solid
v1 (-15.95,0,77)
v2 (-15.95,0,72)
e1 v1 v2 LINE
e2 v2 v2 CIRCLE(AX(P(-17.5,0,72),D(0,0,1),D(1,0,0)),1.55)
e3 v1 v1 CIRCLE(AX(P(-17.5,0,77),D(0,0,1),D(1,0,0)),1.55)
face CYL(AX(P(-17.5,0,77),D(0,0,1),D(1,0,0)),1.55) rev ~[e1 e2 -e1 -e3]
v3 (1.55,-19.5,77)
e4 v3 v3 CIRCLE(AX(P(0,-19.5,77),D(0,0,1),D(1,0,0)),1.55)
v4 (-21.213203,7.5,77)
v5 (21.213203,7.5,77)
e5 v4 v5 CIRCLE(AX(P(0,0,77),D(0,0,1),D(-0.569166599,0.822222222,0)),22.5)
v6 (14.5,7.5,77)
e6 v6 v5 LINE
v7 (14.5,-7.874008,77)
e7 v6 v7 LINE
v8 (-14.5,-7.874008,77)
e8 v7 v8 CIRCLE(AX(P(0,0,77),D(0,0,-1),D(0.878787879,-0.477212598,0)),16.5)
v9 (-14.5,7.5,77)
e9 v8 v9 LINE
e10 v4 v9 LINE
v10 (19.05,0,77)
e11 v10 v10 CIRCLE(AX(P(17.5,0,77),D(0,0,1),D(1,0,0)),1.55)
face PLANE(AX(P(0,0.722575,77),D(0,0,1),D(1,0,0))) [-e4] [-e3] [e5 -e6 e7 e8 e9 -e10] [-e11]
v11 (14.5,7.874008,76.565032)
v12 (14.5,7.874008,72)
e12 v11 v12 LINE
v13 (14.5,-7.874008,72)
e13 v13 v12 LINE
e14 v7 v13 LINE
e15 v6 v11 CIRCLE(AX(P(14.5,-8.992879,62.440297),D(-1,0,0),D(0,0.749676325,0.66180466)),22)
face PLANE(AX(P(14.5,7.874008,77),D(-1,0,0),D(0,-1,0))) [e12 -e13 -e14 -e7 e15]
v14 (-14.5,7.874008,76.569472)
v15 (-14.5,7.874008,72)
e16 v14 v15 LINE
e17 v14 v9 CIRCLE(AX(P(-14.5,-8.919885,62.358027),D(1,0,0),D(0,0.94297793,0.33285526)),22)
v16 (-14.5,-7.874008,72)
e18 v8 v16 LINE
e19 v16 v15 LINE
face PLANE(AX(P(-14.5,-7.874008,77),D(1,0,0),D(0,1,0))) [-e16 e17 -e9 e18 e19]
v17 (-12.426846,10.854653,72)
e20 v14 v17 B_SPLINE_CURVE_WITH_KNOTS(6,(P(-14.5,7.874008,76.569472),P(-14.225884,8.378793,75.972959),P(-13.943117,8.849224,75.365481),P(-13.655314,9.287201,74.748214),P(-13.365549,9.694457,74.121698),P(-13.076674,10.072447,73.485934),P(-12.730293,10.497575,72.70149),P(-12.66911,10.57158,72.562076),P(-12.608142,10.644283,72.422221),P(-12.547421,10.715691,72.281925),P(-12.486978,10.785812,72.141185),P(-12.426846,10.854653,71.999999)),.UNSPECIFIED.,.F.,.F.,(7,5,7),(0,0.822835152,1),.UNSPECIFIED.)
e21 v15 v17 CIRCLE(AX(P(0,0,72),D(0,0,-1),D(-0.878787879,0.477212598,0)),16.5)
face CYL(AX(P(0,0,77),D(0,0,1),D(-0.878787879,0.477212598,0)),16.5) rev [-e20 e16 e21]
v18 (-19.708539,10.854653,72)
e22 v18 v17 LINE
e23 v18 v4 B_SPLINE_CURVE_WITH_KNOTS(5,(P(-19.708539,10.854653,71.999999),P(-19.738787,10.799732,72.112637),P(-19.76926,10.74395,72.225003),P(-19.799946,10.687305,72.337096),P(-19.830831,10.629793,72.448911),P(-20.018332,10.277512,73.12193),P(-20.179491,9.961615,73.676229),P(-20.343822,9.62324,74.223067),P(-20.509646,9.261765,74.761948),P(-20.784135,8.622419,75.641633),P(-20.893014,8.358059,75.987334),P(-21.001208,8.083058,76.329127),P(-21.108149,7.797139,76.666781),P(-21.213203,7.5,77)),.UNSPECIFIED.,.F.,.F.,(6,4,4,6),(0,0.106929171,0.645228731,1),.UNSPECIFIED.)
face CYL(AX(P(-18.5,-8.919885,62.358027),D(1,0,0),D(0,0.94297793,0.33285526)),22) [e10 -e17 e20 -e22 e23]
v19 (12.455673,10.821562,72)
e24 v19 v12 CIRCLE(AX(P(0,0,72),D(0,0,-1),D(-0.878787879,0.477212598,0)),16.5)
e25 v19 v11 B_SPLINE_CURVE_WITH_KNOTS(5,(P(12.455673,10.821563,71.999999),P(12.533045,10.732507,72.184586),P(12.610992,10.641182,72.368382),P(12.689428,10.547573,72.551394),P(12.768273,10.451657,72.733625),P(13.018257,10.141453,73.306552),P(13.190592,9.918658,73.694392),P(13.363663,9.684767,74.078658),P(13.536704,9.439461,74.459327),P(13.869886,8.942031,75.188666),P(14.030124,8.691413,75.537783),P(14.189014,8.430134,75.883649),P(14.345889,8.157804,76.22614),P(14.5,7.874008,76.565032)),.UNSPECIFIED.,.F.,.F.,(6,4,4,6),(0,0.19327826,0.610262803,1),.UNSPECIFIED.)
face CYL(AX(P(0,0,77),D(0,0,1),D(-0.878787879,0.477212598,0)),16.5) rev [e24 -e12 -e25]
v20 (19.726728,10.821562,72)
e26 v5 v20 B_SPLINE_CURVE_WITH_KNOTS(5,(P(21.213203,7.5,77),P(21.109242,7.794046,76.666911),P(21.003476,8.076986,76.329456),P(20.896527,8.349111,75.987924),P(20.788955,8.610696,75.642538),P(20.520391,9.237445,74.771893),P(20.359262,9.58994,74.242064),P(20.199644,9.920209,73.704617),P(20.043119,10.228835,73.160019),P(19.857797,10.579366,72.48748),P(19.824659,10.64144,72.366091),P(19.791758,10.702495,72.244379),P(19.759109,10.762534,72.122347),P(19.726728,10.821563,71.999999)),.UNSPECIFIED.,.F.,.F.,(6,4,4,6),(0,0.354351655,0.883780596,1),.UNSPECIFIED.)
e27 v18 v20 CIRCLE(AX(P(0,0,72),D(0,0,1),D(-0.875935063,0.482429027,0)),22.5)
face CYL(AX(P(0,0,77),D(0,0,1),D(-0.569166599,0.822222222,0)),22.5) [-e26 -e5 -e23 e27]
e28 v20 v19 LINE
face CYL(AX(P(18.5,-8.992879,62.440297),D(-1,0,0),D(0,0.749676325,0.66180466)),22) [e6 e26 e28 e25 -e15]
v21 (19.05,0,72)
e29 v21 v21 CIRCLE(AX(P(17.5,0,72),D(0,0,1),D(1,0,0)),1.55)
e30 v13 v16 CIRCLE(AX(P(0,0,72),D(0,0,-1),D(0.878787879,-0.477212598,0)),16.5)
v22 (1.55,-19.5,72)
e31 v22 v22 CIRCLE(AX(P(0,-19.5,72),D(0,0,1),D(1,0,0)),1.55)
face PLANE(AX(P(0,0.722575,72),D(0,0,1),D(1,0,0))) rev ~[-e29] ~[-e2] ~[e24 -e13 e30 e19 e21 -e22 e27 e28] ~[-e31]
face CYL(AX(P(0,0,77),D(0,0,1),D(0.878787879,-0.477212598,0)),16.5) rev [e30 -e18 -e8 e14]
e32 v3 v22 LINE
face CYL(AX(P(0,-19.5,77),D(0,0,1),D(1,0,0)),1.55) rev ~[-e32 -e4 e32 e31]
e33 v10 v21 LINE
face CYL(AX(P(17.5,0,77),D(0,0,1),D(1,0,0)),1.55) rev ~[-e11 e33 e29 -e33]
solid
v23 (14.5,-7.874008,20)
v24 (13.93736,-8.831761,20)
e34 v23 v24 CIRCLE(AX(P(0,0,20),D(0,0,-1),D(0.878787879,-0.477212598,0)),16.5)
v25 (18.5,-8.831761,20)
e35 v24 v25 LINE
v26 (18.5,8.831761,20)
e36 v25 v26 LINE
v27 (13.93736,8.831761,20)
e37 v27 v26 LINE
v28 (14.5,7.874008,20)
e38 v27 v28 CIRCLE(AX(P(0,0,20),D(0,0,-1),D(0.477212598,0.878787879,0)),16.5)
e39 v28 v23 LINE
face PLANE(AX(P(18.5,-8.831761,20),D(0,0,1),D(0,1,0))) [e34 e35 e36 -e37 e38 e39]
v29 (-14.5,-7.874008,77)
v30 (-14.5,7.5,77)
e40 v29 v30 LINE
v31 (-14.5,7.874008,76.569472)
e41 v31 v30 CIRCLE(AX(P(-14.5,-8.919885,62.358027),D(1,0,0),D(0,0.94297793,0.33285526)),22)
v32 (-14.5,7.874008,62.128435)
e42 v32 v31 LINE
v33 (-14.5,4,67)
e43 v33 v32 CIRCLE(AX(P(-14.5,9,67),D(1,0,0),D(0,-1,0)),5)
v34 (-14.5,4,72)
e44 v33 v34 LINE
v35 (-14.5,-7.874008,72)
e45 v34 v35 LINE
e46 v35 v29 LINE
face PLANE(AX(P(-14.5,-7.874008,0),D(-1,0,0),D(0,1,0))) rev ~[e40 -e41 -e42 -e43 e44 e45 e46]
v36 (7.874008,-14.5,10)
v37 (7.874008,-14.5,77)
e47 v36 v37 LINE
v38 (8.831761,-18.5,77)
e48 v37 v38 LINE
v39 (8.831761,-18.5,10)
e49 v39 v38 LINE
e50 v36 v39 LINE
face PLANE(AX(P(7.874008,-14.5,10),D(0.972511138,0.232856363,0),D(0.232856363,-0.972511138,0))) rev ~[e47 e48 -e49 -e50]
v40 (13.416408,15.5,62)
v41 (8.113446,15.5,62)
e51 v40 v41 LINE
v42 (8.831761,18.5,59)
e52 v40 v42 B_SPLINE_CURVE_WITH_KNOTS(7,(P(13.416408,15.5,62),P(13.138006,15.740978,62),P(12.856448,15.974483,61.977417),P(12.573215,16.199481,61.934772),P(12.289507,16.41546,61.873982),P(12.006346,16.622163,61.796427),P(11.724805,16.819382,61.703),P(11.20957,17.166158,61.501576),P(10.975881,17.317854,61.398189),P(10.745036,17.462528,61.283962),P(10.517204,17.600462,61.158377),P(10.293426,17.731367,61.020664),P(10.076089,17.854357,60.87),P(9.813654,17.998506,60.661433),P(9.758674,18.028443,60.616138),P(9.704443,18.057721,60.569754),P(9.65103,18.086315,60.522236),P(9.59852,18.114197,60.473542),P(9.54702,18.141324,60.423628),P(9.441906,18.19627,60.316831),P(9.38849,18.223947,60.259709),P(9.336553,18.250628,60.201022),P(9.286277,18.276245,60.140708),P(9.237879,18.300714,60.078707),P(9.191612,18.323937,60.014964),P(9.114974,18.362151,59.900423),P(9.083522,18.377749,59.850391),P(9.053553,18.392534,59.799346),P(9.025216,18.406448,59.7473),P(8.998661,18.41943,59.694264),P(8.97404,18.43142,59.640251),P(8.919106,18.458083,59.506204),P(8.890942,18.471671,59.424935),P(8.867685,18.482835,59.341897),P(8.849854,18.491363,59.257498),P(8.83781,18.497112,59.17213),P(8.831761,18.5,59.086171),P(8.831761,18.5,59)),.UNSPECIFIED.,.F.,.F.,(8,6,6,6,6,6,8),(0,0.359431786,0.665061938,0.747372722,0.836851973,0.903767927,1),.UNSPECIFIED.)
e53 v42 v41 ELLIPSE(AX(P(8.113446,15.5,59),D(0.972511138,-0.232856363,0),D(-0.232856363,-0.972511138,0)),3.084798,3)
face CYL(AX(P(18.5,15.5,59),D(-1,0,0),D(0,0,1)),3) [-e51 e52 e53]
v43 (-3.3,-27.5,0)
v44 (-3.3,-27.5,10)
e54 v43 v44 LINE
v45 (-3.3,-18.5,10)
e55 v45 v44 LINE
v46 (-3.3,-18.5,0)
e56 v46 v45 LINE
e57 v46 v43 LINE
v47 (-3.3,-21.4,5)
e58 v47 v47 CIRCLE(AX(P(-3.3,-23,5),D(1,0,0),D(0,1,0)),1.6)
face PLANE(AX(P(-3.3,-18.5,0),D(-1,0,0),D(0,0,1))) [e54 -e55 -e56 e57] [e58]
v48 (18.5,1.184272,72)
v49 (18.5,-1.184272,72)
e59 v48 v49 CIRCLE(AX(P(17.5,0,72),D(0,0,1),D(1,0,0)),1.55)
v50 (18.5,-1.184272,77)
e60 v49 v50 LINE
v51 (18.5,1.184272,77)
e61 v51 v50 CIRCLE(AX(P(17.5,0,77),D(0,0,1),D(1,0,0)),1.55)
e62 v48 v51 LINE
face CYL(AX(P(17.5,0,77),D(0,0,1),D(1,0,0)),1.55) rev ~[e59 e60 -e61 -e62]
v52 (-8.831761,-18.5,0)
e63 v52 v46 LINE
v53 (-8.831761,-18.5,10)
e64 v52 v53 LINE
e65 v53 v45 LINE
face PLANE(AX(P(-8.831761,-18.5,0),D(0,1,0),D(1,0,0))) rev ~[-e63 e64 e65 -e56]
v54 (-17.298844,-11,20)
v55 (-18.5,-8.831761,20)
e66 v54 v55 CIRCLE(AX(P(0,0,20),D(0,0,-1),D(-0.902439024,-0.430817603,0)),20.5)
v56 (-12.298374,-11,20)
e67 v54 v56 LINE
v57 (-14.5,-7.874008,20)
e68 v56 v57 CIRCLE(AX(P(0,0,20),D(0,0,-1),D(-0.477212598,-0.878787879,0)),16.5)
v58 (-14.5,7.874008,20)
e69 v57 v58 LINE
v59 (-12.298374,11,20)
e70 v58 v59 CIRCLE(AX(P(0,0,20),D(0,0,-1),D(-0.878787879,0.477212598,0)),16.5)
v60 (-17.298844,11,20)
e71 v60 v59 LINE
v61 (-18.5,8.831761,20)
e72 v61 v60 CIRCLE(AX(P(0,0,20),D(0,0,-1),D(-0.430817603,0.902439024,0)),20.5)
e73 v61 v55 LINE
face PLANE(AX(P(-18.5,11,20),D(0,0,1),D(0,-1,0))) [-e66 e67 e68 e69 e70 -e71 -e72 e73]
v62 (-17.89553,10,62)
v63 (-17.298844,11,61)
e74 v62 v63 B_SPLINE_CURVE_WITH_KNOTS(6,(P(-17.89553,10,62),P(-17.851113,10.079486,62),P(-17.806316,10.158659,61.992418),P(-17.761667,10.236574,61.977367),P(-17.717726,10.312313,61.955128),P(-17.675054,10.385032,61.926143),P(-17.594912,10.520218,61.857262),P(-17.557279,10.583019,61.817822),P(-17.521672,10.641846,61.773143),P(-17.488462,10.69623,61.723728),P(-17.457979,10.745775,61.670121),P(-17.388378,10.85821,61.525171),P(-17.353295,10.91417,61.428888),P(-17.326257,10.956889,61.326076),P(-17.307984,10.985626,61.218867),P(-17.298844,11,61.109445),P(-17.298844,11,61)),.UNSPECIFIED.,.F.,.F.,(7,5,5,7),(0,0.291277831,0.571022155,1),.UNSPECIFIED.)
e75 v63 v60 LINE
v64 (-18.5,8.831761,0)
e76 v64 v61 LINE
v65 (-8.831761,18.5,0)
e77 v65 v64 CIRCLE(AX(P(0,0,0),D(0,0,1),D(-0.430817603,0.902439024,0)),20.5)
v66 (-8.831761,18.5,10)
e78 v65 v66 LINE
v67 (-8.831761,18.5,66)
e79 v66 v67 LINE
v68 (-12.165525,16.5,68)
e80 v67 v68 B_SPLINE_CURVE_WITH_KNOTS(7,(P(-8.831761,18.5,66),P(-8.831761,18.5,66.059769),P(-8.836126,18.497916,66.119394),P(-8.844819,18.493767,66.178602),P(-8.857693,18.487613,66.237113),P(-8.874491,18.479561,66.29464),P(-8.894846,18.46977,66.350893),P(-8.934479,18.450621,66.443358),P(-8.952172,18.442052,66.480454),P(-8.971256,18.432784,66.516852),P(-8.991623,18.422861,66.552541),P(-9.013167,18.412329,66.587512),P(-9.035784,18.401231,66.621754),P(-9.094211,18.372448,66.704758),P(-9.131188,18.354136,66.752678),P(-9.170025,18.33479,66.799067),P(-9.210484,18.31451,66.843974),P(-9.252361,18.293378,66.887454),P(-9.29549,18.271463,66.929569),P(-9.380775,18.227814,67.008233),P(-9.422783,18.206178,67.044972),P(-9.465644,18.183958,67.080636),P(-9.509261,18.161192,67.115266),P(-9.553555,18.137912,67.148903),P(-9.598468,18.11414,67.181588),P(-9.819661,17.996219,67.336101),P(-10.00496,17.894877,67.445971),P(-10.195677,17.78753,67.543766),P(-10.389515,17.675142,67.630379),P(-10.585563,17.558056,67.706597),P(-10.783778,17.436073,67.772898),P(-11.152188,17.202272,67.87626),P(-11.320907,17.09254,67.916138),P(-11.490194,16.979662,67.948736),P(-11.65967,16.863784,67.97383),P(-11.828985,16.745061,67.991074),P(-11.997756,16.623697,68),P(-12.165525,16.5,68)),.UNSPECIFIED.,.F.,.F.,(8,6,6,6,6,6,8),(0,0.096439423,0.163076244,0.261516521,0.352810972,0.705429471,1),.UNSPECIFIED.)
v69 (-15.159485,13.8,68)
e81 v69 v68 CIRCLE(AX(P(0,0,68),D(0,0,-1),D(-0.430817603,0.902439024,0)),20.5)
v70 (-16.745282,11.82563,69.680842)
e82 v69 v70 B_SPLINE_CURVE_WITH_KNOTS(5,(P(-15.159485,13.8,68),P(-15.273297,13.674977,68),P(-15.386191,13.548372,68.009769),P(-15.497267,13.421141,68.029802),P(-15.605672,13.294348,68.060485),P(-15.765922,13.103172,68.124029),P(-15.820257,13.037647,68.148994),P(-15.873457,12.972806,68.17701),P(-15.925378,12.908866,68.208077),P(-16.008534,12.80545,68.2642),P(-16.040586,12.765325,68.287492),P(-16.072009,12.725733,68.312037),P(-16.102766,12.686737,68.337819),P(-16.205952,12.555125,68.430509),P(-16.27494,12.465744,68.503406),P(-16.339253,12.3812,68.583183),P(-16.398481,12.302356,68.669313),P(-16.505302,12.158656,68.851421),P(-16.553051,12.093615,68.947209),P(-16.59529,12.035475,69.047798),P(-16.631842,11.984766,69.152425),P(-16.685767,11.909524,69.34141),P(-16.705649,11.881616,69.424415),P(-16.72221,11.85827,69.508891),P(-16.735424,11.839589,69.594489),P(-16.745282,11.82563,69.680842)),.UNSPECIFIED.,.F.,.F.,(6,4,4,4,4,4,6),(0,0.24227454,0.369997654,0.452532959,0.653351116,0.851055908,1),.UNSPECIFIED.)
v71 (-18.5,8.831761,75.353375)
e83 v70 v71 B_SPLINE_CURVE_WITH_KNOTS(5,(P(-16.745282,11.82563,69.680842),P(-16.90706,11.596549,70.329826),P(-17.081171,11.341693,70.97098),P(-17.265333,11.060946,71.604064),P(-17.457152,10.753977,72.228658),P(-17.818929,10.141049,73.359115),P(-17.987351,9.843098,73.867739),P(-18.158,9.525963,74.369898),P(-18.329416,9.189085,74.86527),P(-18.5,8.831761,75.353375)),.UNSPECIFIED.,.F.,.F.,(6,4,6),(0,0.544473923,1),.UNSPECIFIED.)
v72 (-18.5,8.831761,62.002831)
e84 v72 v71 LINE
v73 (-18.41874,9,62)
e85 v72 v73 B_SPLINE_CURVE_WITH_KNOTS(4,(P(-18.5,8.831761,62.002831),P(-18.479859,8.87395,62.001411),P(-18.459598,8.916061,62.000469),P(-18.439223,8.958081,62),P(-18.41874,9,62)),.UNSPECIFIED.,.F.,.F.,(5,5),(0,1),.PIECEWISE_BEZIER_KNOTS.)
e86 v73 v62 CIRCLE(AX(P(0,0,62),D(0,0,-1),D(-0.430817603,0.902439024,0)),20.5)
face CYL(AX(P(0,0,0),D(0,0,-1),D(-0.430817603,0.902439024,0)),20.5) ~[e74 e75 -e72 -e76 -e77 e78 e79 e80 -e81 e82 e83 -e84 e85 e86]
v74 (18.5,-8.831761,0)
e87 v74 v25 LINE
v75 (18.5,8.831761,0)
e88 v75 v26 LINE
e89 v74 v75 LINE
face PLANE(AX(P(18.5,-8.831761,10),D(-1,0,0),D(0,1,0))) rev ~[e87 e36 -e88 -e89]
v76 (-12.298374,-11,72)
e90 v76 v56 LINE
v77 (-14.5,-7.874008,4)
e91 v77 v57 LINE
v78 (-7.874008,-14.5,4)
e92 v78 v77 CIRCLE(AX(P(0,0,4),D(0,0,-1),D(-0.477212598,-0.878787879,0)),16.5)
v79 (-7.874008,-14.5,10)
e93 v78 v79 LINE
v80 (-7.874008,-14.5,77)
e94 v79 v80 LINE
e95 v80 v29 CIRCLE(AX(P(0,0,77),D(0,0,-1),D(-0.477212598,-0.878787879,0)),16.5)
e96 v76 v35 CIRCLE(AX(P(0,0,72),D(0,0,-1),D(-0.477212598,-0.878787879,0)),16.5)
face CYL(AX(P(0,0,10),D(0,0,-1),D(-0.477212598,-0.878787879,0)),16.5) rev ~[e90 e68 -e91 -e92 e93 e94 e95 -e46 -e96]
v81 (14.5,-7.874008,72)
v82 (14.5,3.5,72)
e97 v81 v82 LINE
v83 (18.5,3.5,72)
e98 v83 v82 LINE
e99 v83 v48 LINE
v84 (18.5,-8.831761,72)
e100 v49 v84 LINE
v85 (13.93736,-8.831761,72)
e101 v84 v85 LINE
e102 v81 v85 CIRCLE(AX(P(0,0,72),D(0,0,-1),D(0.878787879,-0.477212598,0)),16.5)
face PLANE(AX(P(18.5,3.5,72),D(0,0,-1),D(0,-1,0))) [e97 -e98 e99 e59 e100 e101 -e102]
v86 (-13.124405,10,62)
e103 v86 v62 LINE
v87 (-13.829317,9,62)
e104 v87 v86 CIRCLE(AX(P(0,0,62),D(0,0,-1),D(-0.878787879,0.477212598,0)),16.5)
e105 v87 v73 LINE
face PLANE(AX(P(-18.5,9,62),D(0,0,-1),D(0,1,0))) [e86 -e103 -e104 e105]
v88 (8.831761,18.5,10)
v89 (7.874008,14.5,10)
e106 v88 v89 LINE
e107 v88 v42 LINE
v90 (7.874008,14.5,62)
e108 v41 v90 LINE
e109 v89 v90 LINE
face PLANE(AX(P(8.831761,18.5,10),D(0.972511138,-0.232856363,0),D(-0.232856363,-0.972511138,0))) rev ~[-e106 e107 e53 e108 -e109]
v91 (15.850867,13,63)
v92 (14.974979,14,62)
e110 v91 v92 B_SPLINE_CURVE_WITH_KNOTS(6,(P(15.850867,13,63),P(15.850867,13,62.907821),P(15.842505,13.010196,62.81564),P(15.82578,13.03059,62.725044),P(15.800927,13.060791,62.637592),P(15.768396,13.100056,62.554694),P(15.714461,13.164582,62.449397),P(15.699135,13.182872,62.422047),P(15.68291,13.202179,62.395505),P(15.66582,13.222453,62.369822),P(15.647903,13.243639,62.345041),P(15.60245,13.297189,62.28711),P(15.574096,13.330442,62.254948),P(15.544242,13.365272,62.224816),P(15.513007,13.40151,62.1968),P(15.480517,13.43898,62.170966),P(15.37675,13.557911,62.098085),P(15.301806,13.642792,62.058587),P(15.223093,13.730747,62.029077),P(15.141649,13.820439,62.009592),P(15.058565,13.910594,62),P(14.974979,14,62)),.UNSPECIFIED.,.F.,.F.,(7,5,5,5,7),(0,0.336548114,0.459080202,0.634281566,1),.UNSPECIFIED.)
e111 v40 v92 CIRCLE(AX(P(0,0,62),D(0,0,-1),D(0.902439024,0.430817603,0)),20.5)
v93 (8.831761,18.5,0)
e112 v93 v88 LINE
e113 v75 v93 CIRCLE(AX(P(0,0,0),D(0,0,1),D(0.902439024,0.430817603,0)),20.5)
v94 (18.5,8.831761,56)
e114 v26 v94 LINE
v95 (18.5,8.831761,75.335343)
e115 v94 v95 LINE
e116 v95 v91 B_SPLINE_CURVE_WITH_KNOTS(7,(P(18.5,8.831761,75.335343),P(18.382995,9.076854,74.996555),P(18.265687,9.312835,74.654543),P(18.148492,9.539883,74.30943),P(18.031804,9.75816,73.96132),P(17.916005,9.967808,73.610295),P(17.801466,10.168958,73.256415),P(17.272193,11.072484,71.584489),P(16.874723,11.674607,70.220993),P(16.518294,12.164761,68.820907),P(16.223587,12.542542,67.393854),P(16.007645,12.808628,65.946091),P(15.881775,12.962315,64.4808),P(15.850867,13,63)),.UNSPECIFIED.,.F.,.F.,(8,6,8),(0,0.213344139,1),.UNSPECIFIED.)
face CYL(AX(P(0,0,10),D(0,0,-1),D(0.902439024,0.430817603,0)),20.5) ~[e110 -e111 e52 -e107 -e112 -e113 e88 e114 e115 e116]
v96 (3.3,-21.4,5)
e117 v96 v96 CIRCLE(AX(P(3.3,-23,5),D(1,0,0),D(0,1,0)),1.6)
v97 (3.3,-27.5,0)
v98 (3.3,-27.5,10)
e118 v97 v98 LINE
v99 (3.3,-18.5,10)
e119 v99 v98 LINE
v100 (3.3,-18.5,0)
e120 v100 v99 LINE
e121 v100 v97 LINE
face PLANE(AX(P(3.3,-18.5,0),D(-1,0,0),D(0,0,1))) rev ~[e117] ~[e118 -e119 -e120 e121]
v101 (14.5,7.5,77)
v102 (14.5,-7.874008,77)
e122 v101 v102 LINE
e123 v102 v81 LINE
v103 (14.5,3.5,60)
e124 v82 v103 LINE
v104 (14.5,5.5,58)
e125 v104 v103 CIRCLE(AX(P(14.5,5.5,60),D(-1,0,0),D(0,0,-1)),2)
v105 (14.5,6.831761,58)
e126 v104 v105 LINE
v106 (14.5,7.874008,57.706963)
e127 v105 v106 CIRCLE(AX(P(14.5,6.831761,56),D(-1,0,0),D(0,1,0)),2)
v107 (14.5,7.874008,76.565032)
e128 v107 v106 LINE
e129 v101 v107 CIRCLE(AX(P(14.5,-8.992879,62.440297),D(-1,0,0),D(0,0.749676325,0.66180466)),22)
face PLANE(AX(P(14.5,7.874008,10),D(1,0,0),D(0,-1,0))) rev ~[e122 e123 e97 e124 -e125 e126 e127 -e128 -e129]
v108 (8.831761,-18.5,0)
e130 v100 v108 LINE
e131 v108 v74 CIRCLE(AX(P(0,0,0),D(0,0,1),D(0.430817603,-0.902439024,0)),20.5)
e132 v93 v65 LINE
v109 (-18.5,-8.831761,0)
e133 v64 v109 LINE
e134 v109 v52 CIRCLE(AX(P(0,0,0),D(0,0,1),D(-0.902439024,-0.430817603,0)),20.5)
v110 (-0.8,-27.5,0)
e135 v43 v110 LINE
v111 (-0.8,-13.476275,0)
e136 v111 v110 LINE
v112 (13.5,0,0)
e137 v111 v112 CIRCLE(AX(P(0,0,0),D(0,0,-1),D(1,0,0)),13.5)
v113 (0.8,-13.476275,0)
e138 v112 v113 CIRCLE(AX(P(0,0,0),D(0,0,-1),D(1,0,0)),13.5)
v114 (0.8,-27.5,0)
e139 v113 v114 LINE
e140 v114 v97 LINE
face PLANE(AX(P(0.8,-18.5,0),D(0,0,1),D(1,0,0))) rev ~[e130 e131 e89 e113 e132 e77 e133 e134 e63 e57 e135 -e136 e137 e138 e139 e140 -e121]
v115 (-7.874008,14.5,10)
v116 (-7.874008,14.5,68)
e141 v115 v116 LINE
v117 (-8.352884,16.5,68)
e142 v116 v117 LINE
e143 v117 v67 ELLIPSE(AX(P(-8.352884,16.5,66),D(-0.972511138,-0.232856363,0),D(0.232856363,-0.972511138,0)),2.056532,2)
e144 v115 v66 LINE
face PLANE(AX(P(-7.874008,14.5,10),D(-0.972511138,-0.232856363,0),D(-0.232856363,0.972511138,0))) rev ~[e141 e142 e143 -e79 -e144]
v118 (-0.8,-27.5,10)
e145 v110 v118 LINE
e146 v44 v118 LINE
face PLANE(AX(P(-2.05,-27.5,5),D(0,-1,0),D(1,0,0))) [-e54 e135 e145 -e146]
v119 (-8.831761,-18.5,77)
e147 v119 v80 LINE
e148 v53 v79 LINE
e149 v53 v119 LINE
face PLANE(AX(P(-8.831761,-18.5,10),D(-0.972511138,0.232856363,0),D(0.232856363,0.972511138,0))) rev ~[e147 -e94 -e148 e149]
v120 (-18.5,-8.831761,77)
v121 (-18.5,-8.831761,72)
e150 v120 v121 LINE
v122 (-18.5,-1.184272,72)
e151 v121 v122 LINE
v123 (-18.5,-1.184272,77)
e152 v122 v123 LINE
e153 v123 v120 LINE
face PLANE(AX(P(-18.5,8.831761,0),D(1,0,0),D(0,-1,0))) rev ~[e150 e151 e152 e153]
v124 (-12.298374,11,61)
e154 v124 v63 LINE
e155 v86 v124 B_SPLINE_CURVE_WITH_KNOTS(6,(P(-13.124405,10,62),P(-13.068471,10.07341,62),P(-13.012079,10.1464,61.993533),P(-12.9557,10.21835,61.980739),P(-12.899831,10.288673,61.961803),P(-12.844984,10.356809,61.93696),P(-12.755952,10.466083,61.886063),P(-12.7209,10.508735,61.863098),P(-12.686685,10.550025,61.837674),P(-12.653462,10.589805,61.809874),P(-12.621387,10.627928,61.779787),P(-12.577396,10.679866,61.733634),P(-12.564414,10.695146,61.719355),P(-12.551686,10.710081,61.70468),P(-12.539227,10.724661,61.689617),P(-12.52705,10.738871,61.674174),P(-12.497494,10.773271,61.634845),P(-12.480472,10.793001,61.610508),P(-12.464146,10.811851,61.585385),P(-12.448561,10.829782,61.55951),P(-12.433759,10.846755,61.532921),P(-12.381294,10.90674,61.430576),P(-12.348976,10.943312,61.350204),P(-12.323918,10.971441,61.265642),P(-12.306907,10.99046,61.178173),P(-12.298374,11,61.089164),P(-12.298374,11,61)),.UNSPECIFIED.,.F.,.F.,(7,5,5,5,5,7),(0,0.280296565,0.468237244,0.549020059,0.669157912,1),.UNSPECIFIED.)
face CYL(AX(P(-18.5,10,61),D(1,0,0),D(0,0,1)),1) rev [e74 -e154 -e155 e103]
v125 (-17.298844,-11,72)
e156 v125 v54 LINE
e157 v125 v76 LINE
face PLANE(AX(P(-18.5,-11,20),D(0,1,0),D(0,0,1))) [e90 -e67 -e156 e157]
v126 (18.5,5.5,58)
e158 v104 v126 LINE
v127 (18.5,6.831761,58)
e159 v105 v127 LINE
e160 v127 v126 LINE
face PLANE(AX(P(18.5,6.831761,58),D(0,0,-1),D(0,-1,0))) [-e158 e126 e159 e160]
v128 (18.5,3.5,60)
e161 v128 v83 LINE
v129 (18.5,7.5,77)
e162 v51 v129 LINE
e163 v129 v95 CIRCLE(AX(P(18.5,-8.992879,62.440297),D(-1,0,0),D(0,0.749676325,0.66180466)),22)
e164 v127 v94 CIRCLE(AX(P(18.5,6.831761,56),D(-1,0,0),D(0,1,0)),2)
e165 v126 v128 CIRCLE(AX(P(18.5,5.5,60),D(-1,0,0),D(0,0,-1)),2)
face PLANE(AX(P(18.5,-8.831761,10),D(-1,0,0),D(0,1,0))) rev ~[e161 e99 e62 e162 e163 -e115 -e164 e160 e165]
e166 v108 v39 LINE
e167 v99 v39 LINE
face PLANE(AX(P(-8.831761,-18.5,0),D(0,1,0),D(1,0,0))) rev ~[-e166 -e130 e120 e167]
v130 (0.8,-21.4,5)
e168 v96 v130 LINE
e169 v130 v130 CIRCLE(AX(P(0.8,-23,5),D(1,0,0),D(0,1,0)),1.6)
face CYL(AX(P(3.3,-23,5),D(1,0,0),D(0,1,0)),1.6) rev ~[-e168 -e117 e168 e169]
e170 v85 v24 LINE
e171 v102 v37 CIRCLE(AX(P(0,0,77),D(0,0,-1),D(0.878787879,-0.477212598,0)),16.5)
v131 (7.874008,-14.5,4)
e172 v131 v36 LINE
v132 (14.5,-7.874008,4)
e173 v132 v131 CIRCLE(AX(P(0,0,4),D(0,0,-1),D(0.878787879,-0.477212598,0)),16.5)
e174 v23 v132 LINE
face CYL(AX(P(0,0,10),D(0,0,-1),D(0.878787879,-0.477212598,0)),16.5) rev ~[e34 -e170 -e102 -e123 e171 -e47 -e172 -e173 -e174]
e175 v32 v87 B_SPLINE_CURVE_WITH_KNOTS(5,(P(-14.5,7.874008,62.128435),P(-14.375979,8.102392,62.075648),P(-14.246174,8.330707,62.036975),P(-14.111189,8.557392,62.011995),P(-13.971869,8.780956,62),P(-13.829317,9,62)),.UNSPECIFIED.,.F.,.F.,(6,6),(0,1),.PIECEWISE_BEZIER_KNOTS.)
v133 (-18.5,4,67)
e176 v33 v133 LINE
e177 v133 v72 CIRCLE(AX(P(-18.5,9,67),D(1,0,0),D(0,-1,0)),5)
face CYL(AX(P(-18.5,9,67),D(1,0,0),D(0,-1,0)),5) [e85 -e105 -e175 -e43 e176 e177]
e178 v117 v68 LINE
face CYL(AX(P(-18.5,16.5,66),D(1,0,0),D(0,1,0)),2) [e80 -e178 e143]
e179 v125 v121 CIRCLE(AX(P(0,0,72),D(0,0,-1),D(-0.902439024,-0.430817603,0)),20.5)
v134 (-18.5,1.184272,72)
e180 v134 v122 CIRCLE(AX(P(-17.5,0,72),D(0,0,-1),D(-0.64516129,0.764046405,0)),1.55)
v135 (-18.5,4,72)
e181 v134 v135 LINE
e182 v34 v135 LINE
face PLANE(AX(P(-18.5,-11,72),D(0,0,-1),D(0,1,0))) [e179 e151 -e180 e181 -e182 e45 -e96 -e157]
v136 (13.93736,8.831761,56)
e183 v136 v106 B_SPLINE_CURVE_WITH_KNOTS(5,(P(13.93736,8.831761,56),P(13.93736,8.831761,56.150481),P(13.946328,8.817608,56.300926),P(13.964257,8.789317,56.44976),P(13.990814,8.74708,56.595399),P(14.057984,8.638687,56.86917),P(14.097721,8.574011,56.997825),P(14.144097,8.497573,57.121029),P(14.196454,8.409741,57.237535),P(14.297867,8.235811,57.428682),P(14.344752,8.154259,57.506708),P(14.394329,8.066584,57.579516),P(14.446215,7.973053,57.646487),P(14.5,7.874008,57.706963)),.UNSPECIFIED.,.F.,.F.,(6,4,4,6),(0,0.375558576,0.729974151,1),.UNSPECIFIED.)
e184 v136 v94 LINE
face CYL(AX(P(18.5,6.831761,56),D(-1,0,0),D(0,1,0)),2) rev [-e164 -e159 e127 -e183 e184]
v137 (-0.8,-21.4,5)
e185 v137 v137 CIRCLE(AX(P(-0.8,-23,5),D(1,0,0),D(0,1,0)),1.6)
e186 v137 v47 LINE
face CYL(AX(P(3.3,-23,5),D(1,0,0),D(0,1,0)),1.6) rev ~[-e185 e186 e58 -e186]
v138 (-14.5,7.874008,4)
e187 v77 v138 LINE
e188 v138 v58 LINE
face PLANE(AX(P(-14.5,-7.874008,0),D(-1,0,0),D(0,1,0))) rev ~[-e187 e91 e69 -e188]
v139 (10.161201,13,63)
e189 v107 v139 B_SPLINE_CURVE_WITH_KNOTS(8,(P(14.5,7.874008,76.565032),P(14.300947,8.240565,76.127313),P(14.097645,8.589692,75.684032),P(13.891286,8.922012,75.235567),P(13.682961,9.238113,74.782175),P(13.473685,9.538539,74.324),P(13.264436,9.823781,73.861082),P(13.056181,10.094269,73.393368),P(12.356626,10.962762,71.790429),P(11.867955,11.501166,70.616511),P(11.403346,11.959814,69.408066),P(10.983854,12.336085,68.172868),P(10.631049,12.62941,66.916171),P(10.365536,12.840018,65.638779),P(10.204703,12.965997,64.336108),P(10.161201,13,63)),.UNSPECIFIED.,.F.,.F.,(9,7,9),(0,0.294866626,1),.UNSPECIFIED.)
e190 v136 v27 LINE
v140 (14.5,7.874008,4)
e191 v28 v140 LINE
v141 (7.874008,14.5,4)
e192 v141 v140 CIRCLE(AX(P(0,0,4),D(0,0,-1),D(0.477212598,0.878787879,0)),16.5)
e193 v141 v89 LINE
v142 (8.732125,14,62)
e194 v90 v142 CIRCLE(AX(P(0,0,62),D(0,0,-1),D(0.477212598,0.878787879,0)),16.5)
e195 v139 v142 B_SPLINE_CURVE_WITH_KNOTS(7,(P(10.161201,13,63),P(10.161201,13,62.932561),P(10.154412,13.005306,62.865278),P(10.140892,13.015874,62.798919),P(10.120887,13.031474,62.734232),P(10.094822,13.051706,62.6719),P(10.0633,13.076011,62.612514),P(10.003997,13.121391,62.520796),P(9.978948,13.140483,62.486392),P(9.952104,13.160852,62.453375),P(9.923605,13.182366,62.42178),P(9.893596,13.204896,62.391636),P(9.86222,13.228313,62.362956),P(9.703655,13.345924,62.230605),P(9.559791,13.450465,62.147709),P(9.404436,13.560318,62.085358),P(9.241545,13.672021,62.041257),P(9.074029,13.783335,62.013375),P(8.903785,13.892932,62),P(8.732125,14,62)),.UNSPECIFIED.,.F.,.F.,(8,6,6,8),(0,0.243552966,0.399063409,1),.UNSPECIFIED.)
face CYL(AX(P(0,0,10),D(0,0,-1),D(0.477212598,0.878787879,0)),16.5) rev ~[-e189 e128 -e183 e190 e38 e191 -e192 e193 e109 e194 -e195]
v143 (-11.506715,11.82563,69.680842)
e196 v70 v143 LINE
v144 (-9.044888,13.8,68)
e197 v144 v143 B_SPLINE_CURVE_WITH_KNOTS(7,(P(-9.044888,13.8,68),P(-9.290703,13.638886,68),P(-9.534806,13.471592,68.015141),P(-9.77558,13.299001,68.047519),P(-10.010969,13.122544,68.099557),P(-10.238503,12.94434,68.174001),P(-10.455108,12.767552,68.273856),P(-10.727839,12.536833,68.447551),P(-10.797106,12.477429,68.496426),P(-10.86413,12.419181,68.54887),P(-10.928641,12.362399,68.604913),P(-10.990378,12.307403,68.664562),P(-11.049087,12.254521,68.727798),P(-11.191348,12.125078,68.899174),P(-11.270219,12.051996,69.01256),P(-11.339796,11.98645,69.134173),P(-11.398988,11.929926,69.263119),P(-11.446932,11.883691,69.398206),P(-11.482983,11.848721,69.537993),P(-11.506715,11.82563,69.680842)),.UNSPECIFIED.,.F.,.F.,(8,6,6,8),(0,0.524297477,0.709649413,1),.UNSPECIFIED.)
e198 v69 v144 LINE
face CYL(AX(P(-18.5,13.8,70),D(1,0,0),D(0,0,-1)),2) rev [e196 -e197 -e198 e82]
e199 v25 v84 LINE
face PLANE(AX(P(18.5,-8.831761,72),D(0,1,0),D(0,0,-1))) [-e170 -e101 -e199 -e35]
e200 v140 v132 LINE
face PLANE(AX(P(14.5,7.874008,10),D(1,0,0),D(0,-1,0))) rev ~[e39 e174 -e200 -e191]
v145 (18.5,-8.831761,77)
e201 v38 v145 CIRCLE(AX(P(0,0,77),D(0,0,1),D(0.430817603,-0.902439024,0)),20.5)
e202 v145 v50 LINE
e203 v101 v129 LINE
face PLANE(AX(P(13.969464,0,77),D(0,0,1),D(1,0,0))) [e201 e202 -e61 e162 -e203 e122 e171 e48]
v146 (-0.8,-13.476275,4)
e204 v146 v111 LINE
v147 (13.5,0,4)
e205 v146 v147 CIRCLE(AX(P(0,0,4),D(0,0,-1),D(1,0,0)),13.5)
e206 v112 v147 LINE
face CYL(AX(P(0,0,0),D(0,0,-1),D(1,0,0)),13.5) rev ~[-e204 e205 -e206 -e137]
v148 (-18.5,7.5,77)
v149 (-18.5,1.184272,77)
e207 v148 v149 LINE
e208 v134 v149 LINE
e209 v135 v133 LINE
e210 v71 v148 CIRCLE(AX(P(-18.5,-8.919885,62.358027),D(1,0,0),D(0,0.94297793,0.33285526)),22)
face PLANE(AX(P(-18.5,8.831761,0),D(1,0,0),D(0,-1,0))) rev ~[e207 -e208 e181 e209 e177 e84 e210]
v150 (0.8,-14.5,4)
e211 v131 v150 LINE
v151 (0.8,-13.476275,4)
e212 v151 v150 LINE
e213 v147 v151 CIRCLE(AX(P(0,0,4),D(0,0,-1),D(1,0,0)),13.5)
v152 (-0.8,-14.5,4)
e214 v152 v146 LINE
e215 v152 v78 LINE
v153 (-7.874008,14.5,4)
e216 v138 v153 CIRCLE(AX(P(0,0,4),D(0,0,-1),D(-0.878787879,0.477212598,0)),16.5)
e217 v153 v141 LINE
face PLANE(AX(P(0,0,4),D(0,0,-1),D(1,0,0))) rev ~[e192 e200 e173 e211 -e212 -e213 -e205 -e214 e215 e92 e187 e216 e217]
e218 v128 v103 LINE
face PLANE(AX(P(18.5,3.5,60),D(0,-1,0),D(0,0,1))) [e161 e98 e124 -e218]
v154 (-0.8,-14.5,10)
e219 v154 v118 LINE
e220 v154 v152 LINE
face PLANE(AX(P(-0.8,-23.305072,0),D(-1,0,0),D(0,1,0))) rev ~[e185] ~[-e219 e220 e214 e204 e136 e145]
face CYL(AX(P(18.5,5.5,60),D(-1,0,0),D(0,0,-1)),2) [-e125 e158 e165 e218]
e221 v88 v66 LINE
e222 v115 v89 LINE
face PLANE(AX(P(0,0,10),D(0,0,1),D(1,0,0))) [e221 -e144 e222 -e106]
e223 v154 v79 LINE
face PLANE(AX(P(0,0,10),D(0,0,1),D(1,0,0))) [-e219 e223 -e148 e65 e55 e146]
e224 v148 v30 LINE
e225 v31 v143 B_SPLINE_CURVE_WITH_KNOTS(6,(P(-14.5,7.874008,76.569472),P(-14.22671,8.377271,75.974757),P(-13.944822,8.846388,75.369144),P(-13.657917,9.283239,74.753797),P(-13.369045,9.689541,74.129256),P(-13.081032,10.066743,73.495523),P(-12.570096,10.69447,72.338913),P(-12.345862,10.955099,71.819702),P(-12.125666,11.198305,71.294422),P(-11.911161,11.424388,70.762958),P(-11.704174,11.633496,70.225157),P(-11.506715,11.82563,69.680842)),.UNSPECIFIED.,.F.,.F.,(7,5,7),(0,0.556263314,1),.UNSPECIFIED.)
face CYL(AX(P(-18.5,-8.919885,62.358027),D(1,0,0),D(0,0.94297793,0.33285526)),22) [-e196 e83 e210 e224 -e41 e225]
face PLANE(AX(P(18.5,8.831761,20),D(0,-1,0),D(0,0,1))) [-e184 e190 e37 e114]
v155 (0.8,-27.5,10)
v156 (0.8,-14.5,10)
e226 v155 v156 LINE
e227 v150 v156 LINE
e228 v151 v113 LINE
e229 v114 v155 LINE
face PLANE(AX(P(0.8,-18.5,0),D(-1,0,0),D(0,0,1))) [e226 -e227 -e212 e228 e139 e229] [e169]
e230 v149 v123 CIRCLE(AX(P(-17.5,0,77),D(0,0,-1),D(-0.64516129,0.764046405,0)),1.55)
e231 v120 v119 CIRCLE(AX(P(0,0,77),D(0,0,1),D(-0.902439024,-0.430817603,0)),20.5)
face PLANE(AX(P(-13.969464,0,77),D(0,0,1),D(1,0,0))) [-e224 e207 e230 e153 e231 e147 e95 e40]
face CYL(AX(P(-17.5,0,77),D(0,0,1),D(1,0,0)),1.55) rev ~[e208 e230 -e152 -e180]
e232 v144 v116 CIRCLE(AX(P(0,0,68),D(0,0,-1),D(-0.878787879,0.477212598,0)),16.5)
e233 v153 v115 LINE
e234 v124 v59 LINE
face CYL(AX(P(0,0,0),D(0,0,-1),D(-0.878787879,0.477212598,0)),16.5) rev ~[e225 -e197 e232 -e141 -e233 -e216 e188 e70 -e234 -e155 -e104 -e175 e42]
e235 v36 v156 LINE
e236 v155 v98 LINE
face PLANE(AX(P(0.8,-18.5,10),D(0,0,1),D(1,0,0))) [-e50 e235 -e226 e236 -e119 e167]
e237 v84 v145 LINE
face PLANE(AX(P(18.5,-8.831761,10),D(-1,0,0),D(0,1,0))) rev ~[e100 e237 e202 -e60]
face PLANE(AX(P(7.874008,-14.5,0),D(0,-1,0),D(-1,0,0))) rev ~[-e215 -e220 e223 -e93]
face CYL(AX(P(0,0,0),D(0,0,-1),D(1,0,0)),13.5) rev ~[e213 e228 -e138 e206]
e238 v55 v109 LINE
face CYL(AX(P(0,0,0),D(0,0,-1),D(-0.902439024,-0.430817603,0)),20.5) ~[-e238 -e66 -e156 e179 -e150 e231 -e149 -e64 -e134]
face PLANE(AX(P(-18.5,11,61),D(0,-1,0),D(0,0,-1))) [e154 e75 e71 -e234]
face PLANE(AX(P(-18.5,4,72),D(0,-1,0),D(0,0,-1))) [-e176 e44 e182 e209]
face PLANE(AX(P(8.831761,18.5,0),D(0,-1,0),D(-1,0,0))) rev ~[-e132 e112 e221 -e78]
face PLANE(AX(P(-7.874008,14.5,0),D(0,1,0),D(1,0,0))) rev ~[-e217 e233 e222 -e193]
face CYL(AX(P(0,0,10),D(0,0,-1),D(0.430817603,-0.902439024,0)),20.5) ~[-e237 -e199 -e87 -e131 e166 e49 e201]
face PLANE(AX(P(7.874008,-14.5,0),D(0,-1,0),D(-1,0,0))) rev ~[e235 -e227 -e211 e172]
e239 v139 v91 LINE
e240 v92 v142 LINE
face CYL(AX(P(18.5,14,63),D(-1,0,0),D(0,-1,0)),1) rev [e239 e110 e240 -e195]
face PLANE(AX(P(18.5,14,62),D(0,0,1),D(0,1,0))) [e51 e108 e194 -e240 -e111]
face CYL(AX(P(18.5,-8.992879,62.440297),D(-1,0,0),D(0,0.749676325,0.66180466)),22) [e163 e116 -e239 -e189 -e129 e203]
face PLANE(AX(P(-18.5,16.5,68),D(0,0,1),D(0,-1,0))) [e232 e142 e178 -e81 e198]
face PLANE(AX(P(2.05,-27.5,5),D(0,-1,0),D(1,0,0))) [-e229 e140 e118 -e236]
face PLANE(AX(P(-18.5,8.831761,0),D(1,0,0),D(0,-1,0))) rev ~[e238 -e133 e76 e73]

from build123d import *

# Parameters (mm, degrees)
F1_DEPTH       = 10
F3_DEPTH       = 67
F5_DEPTH       = 5
F6_R           = 1.55
F7_DEPTH       = 5
F8_R           = 13.5
F9_DEPTH       = 4
F11_DEPTH      = 20
F11_DEPTH_BACK = 10
F13_DEPTH      = 20
F13_DEPTH_BACK = 10
F15_DEPTH      = 10
F16_W          = 2.5
F16_H          = 10
F17_DEPTH      = 9
F18_R          = 1.6
F19_DEPTH      = 6.6


with BuildPart() as f1:
    # F0 (on Top) → F1 (new body)
    with BuildSketch(Plane.XY):
        with BuildLine():
            Line((8.8317608663, 18.5), (-8.8317608663, 18.5))
            ThreePointArc((-8.8317608663, 18.5), (-14.4956890143, 14.4956890143), (-18.5, 8.8317608663))
            Line((-18.5, 8.8317608663), (-18.5, -8.8317608663))
            ThreePointArc((-18.5, -8.8317608663), (-14.4956890143, -14.4956890143), (-8.8317608663, -18.5))
            Line((-8.8317608663, -18.5), (8.8317608663, -18.5))
            ThreePointArc((8.8317608663, -18.5), (14.4956890143, -14.4956890143), (18.5, -8.8317608663))
            Line((18.5, -8.8317608663), (18.5, 8.8317608663))
            ThreePointArc((18.5, 8.8317608663), (14.4956890143, 14.4956890143), (8.8317608663, 18.5))
        make_face()
        with BuildLine():
            ThreePointArc((-14.5, 7.874007874), (-11.6672618896, 11.6672618896), (-7.874007874, 14.5))
            Line((-7.874007874, 14.5), (7.874007874, 14.5))
            ThreePointArc((7.874007874, 14.5), (11.6672618896, 11.6672618896), (14.5, 7.874007874))
            Line((14.5, 7.874007874), (14.5, -7.874007874))
            ThreePointArc((14.5, -7.874007874), (11.6672618896, -11.6672618896), (7.874007874, -14.5))
            Line((7.874007874, -14.5), (-7.874007874, -14.5))
            ThreePointArc((-7.874007874, -14.5), (-11.6672618896, -11.6672618896), (-14.5, -7.874007874))
            Line((-14.5, -7.874007874), (-14.5, 7.874007874))
        make_face(mode=Mode.SUBTRACT)
    extrude(amount=F1_DEPTH)

    # F2 (on face) → F3 (join)
    with BuildSketch(Plane.XY.offset(10)):
        with BuildLine():
            Line((7.874007874, -14.5), (8.8317608663, -18.5))
            ThreePointArc((8.8317608663, -18.5), (14.4956890143, -14.4956890143), (18.5, -8.8317608663))
            Line((18.5, -8.8317608663), (18.5, 8.8317608663))
            ThreePointArc((18.5, 8.8317608663), (14.4956890143, 14.4956890143), (8.8317608663, 18.5))
            Line((8.8317608663, 18.5), (7.874007874, 14.5))
            ThreePointArc((7.874007874, 14.5), (11.6672618896, 11.6672618896), (14.5, 7.874007874))
            Line((14.5, 7.874007874), (14.5, -7.874007874))
            ThreePointArc((14.5, -7.874007874), (11.6672618896, -11.6672618896), (7.874007874, -14.5))
        make_face()
        with BuildLine():
            ThreePointArc((-18.5, -8.8317608663), (-14.4956890143, -14.4956890143), (-8.8317608663, -18.5))
            Line((-8.8317608663, -18.5), (-7.874007874, -14.5))
            ThreePointArc((-7.874007874, -14.5), (-11.6672618896, -11.6672618896), (-14.5, -7.874007874))
            Line((-14.5, -7.874007874), (-14.5, 7.874007874))
            ThreePointArc((-14.5, 7.874007874), (-11.6672618896, 11.6672618896), (-7.874007874, 14.5))
            Line((-7.874007874, 14.5), (-8.8317608663, 18.5))
            ThreePointArc((-8.8317608663, 18.5), (-14.4956890143, 14.4956890143), (-18.5, 8.8317608663))
            Line((-18.5, 8.8317608663), (-18.5, -8.8317608663))
        make_face()
    extrude(amount=F3_DEPTH)


with BuildPart() as f5:
    # F4 (on face) → F5 (new body)
    with BuildSketch(Plane.XY.offset(77)):
        with BuildLine():
            Line((12.8062484749, 18.5), (-12.8062484749, 18.5))
            ThreePointArc((-12.8062484749, 18.5), (0, -22.5), (12.8062484749, 18.5))
        make_face()
        with BuildLine():
            ThreePointArc((14.5, -7.874007874), (0, -16.5), (-14.5, -7.874007874))
            Line((-14.5, -7.874007874), (-14.5, 7.874007874))
            ThreePointArc((-14.5, 7.874007874), (0, 16.5), (14.5, 7.874007874))
            Line((14.5, 7.874007874), (14.5, -7.874007874))
        make_face(mode=Mode.SUBTRACT)
    extrude(amount=-F5_DEPTH)


with BuildPart() as f7_tool:
    # F6 (on face) → F7 (new body)
    with BuildSketch(Plane.XY.offset(77)):
        with Locations((0, -19.5)):
            Circle(F6_R)
        with Locations((17.5, 0)):
            Circle(F6_R)
        with Locations((-17.5, 0)):
            Circle(F6_R)
    extrude(amount=-F7_DEPTH)


with BuildPart() as f1_1:
    add(f1.part)

    # F7: cut by f7_tool
    add(f7_tool.part, mode=Mode.SUBTRACT)

    # F8 (on face) → F9 (join)
    with BuildSketch(Plane(origin=(0, 0, 0), x_dir=(1, 0, 0), z_dir=(0, 0, -1))):
        with BuildLine():
            ThreePointArc((-7.874007874, 14.5), (-11.6672618896, 11.6672618896), (-14.5, 7.874007874))
            Line((-14.5, 7.874007874), (-14.5, -7.874007874))
            ThreePointArc((-14.5, -7.874007874), (-11.6672618896, -11.6672618896), (-7.874007874, -14.5))
            Line((-7.874007874, -14.5), (7.874007874, -14.5))
            ThreePointArc((7.874007874, -14.5), (11.6672618896, -11.6672618896), (14.5, -7.874007874))
            Line((14.5, -7.874007874), (14.5, 7.874007874))
            ThreePointArc((14.5, 7.874007874), (11.6672618896, 11.6672618896), (7.874007874, 14.5))
            Line((7.874007874, 14.5), (-7.874007874, 14.5))
        make_face()
        Circle(F8_R, mode=Mode.SUBTRACT)
    extrude(amount=-F9_DEPTH)


with BuildPart() as f5_1:
    add(f5.part)

    # F7: cut by f7_tool
    add(f7_tool.part, mode=Mode.SUBTRACT)


with BuildPart() as f11_tool:
    # F10 (on face) → F11 (new body, two sides)
    with BuildSketch(Plane.YZ.offset(18.5)) as f11_sk:
        with BuildLine():
            Line((-8.8317608663, 72), (-8.8317608663, 20))
            Line((-8.8317608663, 20), (8.8317608663, 20))
            Line((8.8317608663, 20), (8.8317608663, 56))
            ThreePointArc((8.8317608663, 56), (8.2459744287, 57.4142135624), (6.8317608663, 58))
            Line((6.8317608663, 58), (5.5, 58))
            ThreePointArc((5.5, 58), (4.0857864376, 58.5857864376), (3.5, 60))
            Line((3.5, 60), (3.5, 72))
            Line((3.5, 72), (0, 72))
            Line((0, 72), (-8.8317608663, 72))
        make_face()
        with BuildLine():
            Line((18.5, 59), (18.5, 72))
            Line((18.5, 72), (18.5, 77))
            Line((18.5, 77), (7.5, 77))
            ThreePointArc((7.5, 77), (11.4836537107, 70.484649672), (13, 63))
            ThreePointArc((13, 63), (13.2928932188, 62.2928932188), (14, 62))
            Line((14, 62), (15.5, 62))
            ThreePointArc((15.5, 62), (17.6213203436, 61.1213203436), (18.5, 59))
        make_face()
    extrude(amount=-F11_DEPTH)
    extrude(f11_sk.sketch, amount=F11_DEPTH_BACK)


with BuildPart() as f1_2:
    add(f1_1.part)

    # F11: cut by f11_tool
    add(f11_tool.part, mode=Mode.SUBTRACT)


with BuildPart() as f5_2:
    add(f5_1.part)

    # F11: cut by f11_tool
    add(f11_tool.part, mode=Mode.SUBTRACT)


with BuildPart() as f13_tool:
    # F12 (on face) → F13 (new body, two sides)
    with BuildSketch(Plane(origin=(-18.5, 0, 0), x_dir=(0, -1, 0), z_dir=(-1, 0, 0))) as f13_sk:
        with BuildLine():
            Line((11, 72), (0, 72))
            Line((0, 72), (-4, 72))
            Line((-4, 72), (-4, 67))
            ThreePointArc((-4, 67), (-5.4644660941, 63.4644660941), (-9, 62))
            Line((-9, 62), (-10, 62))
            ThreePointArc((-10, 62), (-10.7071067812, 61.7071067812), (-11, 61))
            Line((-11, 61), (-11, 20))
            Line((-11, 20), (11, 20))
            Line((11, 20), (11, 72))
        make_face()
        with BuildLine():
            Line((-7.5, 77), (-18.5, 77))
            Line((-18.5, 77), (-18.5, 66))
            ThreePointArc((-18.5, 66), (-17.9142135624, 67.4142135624), (-16.5, 68))
            Line((-16.5, 68), (-13.8, 68))
            ThreePointArc((-13.8, 68), (-12.5035269253, 68.4771219463), (-11.8256296073, 69.6808424335))
            ThreePointArc((-11.8256296073, 69.6808424335), (-10.0197361412, 73.5513620923), (-7.5, 77))
        make_face()
    extrude(amount=-F13_DEPTH)
    extrude(f13_sk.sketch, amount=F13_DEPTH_BACK)


with BuildPart() as f1_3:
    add(f1_2.part)

    # F13: cut by f13_tool
    add(f13_tool.part, mode=Mode.SUBTRACT)

    # F14 (on face) → F15 (cut)
    with BuildSketch(Plane(origin=(0, 0, 0), x_dir=(1, 0, 0), z_dir=(0, 0, -1))):
        Polygon((-0.8, 11.8399746716), (0, 11.8399746716), (0.8, 11.8399746716), (0.8, 23.3050715178), (0, 23.3050715178), (-0.8, 23.3050715178), align=None)
    extrude(amount=-F15_DEPTH, mode=Mode.SUBTRACT)

    # F16 (on face) → F17 (join)
    with BuildSketch(Plane.XZ.offset(18.5)):
        with Locations((2.05, 5)):
            Rectangle(F16_W, F16_H)
        with Locations((-2.05, 5)):
            Rectangle(F16_W, F16_H)
    extrude(amount=F17_DEPTH)

    # F18 (on face) → F19 (cut, through all)
    with BuildSketch(Plane.YZ.offset(3.3)):
        with Locations((-23, 5)):
            Circle(F18_R)
    extrude(amount=-F19_DEPTH, mode=Mode.SUBTRACT)


with BuildPart() as f5_3:
    add(f5_2.part)

    # F13: cut by f13_tool
    add(f13_tool.part, mode=Mode.SUBTRACT)


solid = Compound([f1_3.part, f5_3.part])
